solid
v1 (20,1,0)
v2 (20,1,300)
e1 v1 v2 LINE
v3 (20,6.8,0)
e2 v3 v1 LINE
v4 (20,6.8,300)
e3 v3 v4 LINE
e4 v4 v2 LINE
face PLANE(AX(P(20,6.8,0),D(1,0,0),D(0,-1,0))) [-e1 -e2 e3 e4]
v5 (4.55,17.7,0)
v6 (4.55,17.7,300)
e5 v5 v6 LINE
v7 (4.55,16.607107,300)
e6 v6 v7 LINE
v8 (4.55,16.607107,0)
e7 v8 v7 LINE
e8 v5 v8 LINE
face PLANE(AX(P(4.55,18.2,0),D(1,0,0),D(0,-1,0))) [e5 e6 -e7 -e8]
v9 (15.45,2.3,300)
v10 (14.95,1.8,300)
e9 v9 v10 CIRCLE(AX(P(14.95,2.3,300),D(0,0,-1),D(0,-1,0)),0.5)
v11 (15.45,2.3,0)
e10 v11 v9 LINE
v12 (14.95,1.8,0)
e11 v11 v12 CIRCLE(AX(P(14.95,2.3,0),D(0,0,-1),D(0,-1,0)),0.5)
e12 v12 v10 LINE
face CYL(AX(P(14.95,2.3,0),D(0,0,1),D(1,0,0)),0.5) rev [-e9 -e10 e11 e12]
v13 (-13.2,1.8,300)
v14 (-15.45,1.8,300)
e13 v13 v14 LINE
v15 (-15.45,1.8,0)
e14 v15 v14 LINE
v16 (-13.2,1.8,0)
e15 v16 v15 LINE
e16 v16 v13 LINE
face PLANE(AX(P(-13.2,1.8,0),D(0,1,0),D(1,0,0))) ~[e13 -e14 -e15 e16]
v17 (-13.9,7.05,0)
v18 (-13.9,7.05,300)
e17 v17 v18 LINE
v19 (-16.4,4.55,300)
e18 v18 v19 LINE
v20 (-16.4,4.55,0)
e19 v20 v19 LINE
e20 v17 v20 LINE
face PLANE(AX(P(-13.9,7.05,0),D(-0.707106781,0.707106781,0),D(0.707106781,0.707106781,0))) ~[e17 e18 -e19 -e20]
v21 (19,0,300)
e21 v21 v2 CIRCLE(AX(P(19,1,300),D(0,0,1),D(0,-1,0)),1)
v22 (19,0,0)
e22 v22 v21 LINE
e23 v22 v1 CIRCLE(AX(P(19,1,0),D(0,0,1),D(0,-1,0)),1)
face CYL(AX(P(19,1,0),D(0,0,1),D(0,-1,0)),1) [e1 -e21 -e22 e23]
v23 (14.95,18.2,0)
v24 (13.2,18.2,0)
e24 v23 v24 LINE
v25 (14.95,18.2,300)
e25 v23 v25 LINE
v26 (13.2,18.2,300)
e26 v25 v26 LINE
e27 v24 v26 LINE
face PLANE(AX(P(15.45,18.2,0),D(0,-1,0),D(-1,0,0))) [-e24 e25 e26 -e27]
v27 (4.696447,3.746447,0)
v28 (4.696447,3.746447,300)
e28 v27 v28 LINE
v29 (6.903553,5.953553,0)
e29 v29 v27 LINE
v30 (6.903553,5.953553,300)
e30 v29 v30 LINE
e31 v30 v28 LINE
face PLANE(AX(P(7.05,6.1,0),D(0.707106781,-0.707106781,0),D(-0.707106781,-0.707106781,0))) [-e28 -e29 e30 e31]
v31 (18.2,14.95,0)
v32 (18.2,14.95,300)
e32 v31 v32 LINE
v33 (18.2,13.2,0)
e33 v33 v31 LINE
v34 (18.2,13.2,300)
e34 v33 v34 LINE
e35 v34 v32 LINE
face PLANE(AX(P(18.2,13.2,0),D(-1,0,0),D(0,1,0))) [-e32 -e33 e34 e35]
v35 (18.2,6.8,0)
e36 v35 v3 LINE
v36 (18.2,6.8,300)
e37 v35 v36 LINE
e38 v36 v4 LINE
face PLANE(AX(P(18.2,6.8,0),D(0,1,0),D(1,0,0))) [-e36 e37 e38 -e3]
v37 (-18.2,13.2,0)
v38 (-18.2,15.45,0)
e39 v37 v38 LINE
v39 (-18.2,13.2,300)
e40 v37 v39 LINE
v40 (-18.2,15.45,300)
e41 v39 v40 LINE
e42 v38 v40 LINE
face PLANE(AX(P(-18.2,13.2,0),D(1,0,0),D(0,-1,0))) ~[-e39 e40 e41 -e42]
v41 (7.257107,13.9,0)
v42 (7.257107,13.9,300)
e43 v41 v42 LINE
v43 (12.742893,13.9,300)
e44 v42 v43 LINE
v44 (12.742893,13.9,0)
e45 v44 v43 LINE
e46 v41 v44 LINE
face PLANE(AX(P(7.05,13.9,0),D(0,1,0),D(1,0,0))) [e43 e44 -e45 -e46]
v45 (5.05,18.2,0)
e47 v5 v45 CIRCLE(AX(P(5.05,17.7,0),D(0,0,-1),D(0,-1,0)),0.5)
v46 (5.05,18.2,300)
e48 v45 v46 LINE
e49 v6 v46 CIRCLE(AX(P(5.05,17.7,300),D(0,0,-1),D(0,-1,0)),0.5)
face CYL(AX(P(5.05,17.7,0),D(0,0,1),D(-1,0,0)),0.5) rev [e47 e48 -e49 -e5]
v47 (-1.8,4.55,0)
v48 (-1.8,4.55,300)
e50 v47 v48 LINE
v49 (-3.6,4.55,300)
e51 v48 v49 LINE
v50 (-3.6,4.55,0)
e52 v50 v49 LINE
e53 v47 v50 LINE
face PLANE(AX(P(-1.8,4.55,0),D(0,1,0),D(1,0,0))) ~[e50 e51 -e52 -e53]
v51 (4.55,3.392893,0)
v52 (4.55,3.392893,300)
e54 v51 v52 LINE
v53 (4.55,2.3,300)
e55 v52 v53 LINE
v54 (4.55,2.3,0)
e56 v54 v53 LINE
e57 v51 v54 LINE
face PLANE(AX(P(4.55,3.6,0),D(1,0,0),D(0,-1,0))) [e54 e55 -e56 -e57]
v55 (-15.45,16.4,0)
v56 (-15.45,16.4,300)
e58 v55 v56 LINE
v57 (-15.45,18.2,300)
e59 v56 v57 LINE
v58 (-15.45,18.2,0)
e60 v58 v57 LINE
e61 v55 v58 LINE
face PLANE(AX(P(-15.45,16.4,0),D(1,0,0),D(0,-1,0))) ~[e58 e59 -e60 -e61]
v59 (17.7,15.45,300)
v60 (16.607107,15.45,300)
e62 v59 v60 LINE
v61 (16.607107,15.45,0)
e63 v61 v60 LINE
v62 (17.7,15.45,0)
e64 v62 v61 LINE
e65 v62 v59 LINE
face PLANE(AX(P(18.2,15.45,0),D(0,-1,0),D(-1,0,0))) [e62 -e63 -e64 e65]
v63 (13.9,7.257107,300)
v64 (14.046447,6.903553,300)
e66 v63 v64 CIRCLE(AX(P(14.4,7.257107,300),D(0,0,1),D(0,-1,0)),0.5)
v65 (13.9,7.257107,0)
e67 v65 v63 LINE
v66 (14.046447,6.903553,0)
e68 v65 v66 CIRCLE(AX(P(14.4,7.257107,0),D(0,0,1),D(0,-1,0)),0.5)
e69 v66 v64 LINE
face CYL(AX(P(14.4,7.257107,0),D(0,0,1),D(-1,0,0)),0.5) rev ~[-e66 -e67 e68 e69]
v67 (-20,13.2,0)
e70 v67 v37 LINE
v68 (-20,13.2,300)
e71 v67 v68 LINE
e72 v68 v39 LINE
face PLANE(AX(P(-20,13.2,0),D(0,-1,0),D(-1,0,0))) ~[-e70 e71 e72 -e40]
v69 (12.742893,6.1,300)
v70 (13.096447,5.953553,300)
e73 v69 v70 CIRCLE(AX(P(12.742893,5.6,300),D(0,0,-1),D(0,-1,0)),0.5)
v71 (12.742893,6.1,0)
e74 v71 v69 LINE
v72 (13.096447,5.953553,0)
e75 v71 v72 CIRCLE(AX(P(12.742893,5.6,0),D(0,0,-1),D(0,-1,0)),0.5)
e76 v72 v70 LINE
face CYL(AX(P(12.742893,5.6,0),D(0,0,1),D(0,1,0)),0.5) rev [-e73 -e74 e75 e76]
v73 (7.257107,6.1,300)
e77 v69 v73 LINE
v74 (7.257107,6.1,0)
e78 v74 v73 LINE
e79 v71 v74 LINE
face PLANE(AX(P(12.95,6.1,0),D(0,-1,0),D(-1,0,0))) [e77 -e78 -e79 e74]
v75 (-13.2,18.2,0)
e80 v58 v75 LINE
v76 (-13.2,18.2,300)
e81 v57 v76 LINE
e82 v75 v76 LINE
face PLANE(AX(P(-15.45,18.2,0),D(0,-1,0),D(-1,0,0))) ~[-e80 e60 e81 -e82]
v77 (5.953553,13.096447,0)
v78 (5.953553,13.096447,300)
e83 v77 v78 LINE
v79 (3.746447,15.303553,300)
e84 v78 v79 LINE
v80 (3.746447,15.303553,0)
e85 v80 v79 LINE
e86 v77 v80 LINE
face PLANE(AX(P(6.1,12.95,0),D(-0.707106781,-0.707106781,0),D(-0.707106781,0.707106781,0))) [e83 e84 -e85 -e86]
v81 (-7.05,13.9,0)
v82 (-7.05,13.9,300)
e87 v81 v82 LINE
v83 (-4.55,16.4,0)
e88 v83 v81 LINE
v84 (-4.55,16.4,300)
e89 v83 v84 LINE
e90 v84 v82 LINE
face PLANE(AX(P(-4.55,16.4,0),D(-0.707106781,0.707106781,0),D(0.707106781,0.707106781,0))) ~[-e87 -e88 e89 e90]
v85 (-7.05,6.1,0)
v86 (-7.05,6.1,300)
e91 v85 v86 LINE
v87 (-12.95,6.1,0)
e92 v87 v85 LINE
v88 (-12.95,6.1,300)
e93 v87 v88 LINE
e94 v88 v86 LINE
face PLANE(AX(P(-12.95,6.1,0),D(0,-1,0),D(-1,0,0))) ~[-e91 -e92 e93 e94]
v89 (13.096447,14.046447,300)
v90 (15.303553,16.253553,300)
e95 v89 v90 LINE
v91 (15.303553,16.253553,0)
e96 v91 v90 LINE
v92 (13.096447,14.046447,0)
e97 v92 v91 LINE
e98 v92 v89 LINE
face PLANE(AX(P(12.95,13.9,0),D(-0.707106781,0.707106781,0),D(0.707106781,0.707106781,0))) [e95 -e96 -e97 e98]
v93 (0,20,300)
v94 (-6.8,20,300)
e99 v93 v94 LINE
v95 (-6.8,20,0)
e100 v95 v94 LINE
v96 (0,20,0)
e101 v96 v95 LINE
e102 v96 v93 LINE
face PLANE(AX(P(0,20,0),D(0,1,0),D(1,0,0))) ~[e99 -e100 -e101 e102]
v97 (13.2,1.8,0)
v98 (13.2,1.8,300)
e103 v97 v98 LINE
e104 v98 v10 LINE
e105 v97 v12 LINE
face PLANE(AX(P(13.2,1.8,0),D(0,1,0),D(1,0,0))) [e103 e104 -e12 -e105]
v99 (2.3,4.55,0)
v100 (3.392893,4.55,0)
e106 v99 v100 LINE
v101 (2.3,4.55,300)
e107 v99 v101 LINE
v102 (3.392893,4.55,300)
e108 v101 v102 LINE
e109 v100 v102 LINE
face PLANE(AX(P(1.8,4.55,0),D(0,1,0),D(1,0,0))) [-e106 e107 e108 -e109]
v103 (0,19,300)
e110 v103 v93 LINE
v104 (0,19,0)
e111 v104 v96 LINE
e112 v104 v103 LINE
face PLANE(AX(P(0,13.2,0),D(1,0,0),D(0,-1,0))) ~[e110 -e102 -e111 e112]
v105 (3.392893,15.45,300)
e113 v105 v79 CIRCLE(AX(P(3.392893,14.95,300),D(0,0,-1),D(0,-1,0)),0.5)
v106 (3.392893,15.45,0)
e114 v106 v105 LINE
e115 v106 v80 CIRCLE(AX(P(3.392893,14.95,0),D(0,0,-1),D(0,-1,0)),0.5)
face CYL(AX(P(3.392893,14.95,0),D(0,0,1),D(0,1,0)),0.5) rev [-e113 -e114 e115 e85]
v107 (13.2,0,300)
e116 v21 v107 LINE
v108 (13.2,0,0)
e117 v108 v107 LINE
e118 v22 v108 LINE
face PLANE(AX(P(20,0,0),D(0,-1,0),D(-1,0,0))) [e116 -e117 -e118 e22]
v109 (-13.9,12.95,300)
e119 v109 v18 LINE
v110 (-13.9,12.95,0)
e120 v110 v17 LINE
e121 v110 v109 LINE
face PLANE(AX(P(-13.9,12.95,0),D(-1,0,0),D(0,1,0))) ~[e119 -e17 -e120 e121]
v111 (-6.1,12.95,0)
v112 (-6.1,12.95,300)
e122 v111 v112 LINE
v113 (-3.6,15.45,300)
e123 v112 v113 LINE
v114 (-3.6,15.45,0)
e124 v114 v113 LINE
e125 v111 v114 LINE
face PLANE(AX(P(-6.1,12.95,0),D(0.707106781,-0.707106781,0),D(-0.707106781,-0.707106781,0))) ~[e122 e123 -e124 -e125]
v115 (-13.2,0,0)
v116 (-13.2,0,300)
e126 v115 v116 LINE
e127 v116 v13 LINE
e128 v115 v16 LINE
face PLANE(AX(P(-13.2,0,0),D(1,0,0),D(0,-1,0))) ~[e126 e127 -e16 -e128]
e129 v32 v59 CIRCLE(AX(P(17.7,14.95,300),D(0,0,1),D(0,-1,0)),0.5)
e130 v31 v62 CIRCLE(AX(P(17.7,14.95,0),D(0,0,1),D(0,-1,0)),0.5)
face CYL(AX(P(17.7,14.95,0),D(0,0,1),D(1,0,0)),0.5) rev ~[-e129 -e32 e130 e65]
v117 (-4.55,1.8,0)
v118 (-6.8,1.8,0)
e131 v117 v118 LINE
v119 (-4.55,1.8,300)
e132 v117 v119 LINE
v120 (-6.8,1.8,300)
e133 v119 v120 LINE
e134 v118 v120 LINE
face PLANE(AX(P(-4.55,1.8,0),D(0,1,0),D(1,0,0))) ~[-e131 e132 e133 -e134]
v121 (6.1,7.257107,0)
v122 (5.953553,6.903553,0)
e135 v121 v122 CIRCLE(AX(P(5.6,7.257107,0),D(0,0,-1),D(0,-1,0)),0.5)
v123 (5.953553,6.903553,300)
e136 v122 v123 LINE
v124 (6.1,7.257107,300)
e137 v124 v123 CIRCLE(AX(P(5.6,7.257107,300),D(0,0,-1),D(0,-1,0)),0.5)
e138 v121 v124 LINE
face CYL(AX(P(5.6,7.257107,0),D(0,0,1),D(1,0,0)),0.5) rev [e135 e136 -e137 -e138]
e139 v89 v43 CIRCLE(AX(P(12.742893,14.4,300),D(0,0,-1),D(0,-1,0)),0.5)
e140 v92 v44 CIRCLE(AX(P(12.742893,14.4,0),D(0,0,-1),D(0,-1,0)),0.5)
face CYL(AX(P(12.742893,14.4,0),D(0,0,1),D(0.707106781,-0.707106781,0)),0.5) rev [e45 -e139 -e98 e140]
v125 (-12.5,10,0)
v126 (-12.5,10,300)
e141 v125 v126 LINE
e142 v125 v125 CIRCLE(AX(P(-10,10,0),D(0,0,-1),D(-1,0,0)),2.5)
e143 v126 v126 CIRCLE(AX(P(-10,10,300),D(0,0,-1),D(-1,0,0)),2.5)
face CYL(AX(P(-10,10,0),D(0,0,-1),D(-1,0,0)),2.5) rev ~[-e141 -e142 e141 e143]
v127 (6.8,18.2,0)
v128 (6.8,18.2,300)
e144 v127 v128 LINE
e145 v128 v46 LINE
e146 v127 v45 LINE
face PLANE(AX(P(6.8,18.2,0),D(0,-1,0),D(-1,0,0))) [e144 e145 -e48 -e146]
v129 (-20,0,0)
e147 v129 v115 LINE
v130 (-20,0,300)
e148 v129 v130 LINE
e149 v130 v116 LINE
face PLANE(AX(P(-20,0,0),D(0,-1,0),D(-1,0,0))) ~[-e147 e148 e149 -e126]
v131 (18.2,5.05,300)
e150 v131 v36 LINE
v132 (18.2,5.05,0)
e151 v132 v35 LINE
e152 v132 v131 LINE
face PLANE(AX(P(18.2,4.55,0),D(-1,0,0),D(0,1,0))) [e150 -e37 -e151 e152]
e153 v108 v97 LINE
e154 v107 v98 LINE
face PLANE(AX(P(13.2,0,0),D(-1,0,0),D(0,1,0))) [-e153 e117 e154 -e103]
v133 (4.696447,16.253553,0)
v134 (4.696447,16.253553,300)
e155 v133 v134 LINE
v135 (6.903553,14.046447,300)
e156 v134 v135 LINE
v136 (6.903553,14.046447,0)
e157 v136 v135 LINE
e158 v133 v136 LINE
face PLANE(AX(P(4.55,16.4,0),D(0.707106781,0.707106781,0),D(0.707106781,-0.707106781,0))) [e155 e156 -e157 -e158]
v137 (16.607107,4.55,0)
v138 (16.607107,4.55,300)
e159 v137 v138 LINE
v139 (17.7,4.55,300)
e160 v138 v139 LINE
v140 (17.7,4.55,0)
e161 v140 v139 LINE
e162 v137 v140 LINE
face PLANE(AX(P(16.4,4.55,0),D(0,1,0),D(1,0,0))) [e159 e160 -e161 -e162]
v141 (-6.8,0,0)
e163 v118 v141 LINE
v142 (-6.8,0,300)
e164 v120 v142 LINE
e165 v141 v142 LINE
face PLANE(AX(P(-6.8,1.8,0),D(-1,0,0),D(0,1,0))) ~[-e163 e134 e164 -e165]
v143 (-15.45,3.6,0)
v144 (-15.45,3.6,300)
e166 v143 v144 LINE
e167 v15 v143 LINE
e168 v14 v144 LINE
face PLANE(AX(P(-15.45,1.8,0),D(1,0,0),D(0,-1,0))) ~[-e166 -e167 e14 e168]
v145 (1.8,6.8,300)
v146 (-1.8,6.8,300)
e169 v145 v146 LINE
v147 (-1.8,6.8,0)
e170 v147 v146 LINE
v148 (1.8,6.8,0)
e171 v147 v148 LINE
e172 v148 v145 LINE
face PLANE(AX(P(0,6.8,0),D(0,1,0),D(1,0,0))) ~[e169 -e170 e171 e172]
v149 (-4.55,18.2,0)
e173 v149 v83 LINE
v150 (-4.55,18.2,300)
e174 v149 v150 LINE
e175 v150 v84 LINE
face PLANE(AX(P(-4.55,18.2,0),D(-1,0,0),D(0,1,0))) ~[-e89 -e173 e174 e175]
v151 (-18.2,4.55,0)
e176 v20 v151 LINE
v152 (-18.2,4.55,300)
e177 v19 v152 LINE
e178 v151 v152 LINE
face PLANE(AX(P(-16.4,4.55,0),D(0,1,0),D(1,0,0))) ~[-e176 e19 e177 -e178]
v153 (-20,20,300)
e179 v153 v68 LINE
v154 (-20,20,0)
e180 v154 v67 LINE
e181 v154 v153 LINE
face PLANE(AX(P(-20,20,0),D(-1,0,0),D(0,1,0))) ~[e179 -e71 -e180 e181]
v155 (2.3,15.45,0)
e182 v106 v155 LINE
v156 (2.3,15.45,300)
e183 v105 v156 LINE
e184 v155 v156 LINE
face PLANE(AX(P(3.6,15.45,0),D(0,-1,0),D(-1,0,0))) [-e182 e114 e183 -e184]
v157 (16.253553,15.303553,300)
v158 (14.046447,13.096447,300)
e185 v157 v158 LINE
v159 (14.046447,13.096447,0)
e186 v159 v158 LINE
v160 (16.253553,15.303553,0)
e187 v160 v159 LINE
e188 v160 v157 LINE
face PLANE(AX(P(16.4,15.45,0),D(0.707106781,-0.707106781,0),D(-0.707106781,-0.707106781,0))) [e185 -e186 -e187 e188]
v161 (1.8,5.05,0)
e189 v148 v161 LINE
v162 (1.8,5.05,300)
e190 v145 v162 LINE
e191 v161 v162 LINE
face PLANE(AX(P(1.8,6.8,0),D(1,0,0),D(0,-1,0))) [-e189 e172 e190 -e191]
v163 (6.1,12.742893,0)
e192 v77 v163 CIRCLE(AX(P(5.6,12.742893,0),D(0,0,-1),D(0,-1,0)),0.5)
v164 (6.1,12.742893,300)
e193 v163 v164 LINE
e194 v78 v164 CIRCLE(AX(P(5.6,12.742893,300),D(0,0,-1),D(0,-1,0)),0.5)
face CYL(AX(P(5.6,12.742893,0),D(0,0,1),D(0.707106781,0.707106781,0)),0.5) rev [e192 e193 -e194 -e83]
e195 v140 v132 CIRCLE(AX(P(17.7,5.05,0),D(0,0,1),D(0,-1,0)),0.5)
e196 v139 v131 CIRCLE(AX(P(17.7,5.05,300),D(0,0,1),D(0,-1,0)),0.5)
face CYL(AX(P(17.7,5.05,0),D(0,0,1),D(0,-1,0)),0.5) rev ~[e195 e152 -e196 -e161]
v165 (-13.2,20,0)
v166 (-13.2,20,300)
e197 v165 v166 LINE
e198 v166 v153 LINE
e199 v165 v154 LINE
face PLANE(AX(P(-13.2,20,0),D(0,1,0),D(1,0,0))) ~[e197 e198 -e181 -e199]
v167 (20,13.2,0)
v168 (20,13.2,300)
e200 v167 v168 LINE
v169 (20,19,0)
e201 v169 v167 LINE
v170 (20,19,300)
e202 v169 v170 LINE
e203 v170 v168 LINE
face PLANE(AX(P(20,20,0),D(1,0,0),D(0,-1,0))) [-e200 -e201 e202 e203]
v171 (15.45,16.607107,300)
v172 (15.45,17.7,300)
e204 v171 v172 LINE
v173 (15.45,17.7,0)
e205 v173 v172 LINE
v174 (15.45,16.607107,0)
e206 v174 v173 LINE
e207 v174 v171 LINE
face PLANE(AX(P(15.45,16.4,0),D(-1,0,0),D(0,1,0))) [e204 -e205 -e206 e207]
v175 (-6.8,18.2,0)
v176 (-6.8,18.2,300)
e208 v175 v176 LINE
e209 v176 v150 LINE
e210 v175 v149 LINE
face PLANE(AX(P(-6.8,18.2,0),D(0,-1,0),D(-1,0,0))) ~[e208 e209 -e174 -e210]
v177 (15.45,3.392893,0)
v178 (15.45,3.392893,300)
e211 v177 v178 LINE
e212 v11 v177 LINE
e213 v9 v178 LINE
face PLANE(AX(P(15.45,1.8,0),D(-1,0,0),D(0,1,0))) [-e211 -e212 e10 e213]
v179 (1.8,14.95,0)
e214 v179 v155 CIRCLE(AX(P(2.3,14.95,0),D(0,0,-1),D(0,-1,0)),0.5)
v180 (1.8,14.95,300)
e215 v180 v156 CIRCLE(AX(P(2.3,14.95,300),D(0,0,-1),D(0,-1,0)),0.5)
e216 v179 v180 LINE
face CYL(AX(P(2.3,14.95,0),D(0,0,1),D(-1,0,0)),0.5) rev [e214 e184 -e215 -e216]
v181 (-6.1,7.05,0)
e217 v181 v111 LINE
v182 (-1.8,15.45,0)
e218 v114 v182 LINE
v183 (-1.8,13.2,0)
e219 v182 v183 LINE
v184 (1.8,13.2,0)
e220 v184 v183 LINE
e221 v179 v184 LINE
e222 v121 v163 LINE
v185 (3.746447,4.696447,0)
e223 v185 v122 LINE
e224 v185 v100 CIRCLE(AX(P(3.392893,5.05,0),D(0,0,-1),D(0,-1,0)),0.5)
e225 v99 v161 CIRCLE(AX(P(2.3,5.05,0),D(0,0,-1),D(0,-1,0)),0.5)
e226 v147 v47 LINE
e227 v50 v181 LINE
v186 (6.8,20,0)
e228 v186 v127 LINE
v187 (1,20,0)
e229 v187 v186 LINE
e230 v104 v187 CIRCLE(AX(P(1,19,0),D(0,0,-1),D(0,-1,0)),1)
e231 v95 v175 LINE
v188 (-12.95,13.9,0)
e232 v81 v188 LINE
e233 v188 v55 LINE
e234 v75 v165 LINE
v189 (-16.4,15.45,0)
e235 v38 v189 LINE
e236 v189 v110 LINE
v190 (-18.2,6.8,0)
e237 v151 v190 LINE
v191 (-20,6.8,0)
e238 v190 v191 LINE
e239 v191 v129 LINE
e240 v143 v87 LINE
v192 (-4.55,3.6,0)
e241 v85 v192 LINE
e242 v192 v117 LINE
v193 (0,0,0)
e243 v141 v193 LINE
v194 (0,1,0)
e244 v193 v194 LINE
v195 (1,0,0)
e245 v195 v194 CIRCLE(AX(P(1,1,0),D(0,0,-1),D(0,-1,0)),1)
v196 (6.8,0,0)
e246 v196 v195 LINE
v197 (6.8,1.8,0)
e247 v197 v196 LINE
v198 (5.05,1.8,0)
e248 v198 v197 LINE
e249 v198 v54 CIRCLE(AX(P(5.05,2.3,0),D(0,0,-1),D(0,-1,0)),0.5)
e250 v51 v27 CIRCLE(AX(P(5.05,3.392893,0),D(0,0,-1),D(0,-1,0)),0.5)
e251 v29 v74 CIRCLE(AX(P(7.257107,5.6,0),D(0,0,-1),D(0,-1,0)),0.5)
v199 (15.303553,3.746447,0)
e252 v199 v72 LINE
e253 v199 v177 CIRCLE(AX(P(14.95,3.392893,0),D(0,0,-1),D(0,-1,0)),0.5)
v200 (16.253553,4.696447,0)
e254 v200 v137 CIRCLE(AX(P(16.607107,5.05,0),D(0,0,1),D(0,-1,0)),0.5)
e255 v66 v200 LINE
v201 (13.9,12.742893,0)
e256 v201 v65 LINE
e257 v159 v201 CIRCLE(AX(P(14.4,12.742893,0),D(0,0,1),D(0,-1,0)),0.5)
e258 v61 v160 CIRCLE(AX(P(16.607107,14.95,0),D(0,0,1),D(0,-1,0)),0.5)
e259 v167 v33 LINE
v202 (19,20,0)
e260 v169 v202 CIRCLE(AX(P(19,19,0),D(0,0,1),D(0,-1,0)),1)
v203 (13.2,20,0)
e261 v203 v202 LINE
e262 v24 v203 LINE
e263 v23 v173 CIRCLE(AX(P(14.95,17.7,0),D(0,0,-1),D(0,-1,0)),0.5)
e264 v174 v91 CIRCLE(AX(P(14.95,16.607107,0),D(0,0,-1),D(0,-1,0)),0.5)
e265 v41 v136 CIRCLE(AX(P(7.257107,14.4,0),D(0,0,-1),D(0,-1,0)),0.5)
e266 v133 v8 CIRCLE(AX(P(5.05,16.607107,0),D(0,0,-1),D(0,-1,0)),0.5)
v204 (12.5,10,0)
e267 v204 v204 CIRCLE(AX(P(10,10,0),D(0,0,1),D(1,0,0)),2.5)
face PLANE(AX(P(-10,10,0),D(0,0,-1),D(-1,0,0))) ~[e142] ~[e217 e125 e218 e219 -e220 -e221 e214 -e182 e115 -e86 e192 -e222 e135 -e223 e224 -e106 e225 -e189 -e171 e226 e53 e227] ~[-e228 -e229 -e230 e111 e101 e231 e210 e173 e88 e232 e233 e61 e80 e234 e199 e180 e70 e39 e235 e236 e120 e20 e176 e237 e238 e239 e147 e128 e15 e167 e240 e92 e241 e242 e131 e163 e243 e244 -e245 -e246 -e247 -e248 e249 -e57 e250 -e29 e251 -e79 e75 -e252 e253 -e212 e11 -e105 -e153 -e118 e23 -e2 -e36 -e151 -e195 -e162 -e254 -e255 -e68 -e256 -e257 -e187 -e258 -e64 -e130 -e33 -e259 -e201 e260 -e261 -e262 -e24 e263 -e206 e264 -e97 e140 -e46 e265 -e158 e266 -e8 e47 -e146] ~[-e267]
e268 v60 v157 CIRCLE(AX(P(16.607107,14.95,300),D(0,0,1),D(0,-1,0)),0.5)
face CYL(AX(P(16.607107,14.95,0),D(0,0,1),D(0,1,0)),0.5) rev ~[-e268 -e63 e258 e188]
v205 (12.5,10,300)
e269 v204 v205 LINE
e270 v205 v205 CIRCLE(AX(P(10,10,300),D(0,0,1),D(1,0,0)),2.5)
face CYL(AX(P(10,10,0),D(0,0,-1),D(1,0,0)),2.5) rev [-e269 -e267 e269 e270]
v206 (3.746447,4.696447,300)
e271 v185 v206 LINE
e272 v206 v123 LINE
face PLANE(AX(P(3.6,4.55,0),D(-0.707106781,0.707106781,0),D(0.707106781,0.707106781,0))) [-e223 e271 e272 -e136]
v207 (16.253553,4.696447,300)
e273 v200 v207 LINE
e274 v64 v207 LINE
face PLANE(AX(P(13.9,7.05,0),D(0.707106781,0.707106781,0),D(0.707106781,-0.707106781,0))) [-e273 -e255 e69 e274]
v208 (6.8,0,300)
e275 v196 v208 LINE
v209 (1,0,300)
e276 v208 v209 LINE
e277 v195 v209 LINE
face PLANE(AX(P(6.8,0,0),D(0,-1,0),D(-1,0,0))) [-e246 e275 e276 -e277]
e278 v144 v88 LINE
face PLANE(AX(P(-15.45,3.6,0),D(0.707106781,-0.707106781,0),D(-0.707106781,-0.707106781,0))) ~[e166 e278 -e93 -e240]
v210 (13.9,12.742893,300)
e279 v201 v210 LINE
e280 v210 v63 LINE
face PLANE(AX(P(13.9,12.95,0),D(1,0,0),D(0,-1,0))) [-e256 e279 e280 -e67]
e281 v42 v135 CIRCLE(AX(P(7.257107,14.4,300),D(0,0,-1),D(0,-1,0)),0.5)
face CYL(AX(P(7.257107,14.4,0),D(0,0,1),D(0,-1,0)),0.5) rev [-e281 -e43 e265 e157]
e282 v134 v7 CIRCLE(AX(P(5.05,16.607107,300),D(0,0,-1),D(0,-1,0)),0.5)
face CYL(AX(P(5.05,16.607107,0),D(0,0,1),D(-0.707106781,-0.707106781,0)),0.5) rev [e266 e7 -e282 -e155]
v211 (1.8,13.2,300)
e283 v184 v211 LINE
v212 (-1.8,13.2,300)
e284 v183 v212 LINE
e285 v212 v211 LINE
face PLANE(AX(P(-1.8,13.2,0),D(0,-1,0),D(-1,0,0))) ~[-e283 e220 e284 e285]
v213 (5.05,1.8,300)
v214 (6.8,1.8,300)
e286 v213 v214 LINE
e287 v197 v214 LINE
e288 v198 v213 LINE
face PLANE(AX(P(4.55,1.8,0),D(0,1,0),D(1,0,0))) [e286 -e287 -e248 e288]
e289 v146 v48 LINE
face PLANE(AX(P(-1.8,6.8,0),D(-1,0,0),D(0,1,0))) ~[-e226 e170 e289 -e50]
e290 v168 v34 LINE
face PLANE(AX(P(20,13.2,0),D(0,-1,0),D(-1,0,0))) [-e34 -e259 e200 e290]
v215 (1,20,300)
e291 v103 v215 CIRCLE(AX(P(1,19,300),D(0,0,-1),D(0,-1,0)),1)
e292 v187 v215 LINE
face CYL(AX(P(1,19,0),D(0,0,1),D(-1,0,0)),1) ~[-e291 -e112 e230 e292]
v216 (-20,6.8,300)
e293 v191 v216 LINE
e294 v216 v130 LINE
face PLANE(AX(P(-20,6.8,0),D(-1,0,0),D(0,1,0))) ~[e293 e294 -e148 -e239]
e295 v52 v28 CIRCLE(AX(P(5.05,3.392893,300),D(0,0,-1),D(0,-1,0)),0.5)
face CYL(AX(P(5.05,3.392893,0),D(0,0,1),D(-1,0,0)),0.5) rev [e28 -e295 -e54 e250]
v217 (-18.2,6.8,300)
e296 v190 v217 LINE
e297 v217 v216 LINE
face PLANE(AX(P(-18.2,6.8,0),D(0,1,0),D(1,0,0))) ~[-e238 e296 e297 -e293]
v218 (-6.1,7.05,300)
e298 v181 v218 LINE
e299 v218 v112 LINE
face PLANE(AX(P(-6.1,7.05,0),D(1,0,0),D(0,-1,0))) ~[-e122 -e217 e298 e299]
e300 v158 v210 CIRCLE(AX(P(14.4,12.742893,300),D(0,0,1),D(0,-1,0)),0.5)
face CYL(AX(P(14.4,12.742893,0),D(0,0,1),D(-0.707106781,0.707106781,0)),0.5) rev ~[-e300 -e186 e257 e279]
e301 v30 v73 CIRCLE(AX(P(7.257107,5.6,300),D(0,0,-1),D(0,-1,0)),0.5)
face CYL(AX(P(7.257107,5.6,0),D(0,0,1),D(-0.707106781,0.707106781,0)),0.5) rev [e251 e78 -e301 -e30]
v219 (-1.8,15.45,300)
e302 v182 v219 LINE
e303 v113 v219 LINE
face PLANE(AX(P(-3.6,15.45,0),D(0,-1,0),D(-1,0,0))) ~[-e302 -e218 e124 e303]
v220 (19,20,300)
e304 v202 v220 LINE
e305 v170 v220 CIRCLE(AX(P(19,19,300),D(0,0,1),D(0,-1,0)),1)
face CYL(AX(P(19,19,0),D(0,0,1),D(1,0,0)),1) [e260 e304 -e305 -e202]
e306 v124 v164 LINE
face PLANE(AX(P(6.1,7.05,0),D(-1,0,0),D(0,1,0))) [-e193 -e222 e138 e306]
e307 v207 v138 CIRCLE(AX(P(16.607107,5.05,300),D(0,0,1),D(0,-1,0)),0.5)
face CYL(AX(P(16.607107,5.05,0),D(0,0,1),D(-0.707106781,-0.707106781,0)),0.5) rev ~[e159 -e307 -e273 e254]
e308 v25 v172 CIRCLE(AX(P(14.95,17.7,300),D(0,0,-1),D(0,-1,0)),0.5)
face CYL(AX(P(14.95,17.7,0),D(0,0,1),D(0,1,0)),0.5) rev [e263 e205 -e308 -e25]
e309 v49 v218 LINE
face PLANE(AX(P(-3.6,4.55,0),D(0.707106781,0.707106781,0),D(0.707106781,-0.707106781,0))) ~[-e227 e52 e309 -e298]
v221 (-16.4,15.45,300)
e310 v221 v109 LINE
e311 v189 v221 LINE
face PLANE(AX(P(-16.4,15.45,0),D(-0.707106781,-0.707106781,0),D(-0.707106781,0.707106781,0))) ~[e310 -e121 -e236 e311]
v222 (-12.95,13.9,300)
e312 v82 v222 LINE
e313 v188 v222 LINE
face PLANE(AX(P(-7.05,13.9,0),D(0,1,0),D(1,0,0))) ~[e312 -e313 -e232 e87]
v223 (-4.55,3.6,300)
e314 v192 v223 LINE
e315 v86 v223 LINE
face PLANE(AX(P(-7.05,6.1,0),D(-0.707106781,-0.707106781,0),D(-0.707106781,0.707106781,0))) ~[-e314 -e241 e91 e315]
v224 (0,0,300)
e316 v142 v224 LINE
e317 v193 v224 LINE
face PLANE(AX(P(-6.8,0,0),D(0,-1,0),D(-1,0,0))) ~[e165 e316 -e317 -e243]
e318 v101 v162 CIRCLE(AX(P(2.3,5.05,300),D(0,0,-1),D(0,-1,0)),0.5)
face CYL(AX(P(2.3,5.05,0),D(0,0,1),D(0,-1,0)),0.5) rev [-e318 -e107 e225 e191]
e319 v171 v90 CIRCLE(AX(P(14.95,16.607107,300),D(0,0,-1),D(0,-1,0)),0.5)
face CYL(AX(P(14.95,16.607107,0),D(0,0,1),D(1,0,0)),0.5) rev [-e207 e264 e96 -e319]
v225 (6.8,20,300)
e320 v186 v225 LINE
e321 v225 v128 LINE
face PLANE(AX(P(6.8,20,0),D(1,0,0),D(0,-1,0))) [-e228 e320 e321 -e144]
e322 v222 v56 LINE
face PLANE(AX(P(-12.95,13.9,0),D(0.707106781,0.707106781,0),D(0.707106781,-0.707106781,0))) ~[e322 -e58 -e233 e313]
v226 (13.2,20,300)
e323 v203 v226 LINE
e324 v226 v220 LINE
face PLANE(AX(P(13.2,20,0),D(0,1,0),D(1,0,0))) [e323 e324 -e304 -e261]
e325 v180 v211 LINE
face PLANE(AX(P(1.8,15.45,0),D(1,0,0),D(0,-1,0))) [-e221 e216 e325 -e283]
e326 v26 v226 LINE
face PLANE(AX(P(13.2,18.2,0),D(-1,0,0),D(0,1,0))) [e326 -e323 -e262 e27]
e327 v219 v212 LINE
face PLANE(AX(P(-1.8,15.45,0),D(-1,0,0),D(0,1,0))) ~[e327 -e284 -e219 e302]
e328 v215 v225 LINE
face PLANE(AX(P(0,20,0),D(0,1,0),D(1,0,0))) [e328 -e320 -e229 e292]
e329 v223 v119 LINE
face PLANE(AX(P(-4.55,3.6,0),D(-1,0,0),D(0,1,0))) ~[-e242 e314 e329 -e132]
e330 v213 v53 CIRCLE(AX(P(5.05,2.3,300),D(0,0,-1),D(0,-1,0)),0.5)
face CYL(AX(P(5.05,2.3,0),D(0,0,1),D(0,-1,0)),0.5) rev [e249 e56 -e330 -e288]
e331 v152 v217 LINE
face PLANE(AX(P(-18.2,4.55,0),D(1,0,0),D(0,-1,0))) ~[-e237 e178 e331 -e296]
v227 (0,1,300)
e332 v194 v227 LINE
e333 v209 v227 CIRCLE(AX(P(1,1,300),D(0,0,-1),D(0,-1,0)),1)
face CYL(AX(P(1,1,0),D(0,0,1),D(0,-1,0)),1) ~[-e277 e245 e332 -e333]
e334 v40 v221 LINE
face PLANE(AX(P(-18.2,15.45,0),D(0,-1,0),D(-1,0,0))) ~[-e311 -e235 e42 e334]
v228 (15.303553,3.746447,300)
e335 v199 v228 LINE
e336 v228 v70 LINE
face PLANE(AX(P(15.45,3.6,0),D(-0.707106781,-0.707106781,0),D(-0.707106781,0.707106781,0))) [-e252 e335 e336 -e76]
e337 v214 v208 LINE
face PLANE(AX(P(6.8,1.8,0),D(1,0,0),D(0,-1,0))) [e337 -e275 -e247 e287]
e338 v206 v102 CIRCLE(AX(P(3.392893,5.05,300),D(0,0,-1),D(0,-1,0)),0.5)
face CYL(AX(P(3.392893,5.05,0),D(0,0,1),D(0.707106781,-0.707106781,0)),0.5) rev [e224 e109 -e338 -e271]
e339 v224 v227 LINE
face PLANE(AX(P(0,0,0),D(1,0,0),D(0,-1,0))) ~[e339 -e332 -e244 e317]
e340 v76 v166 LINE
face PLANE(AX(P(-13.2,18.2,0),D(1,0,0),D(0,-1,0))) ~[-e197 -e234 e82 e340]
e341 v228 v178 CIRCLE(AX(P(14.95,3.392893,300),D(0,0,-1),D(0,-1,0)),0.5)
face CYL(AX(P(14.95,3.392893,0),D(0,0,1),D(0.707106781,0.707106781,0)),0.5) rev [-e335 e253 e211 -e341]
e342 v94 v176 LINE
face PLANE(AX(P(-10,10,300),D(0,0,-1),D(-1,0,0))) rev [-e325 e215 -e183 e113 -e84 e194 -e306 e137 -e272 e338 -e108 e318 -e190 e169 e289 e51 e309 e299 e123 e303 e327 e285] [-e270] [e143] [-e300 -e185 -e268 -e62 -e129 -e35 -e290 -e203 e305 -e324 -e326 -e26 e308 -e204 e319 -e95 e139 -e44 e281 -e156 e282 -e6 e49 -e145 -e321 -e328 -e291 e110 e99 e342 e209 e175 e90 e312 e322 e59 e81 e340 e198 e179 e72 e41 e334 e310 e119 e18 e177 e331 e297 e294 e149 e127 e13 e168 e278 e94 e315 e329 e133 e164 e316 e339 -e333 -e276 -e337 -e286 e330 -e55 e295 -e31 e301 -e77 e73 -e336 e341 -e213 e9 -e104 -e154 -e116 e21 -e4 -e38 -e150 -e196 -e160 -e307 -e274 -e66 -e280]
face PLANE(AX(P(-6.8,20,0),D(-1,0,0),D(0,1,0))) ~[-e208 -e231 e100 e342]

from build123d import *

# Parameters (mm, degrees)
SKETCH1_R           = 2.5
BOSS_EXTRUDE1_DEPTH = 300
FILLET1_R           = 1
FILLET2_R           = 0.5
FILLET3_R           = 0.5
FILLET4_R           = 0.5
FILLET5_R           = 0.5


with BuildPart() as part:
    # Sketch1 → Boss-Extrude1 (new body)
    with BuildSketch(Plane.XY):
        Polygon((13.2, 0), (13.2, 1.8), (15.45, 1.8), (15.45, 3.6), (12.95, 6.1), (7.05, 6.1), (4.55, 3.6), (4.55, 1.8), (6.8, 1.8), (6.8, 0), (0, 0), (0, 6.8), (1.8, 6.8), (1.8, 4.55), (3.6, 4.55), (6.1, 7.05), (6.1, 12.95), (3.6, 15.45), (1.8, 15.45), (1.8, 13.2), (0, 13.2), (0, 20), (6.8, 20), (6.8, 18.2), (4.55, 18.2), (4.55, 16.4), (7.05, 13.9), (12.95, 13.9), (15.45, 16.4), (15.45, 18.2), (13.2, 18.2), (13.2, 20), (20, 20), (20, 13.2), (18.2, 13.2), (18.2, 15.45), (16.4, 15.45), (13.9, 12.95), (13.9, 7.05), (16.4, 4.55), (18.2, 4.55), (18.2, 6.8), (20, 6.8), (20, 0), align=None)
        with Locations((10, 10)):
            Circle(SKETCH1_R, mode=Mode.SUBTRACT)
    boss_extrude1 = extrude(amount=BOSS_EXTRUDE1_DEPTH)

    # Fillet1
    fillet1_edges = [part.edges().sort_by_distance(p)[0] for p in [
        (0, 0, 150),
        (0, 20, 150),
        (20, 20, 150),
        (20, 0, 150),
    ]]
    fillet(fillet1_edges, radius=FILLET1_R)

    # Fillet2
    fillet2_edges = [part.edges().sort_by_distance(p)[0] for p in [
        (4.55, 18.2, 150),
        (4.55, 16.4, 150),
        (7.05, 13.9, 150),
        (12.95, 13.9, 150),
        (15.45, 16.4, 150),
        (15.45, 18.2, 150),
    ]]
    fillet(fillet2_edges, radius=FILLET2_R)

    # Fillet3
    fillet3_edges = [part.edges().sort_by_distance(p)[0] for p in [
        (18.2, 15.45, 150),
        (16.4, 15.45, 150),
        (13.9, 12.95, 150),
        (13.9, 7.05, 150),
        (16.4, 4.55, 150),
        (18.2, 4.55, 150),
    ]]
    fillet(fillet3_edges, radius=FILLET3_R)

    # Fillet4
    fillet4_edges = [part.edges().sort_by_distance(p)[0] for p in [
        (1.8, 4.55, 150),
        (3.6, 4.55, 150),
        (6.1, 7.05, 150),
        (6.1, 12.95, 150),
        (3.6, 15.45, 150),
        (1.8, 15.45, 150),
    ]]
    fillet(fillet4_edges, radius=FILLET4_R)

    # Fillet5
    fillet5_edges = [part.edges().sort_by_distance(p)[0] for p in [
        (15.45, 1.8, 150),
        (15.45, 3.6, 150),
        (12.95, 6.1, 150),
        (7.05, 6.1, 150),
        (4.55, 3.6, 150),
        (4.55, 1.8, 150),
    ]]
    fillet(fillet5_edges, radius=FILLET5_R)

    # Mirror1: Boss-Extrude1 across plane
    add(boss_extrude1.mirror(Plane(origin=(0, 0, 0), x_dir=(0, 0, 1), z_dir=(1, 0, 0))))


solid = part.part
